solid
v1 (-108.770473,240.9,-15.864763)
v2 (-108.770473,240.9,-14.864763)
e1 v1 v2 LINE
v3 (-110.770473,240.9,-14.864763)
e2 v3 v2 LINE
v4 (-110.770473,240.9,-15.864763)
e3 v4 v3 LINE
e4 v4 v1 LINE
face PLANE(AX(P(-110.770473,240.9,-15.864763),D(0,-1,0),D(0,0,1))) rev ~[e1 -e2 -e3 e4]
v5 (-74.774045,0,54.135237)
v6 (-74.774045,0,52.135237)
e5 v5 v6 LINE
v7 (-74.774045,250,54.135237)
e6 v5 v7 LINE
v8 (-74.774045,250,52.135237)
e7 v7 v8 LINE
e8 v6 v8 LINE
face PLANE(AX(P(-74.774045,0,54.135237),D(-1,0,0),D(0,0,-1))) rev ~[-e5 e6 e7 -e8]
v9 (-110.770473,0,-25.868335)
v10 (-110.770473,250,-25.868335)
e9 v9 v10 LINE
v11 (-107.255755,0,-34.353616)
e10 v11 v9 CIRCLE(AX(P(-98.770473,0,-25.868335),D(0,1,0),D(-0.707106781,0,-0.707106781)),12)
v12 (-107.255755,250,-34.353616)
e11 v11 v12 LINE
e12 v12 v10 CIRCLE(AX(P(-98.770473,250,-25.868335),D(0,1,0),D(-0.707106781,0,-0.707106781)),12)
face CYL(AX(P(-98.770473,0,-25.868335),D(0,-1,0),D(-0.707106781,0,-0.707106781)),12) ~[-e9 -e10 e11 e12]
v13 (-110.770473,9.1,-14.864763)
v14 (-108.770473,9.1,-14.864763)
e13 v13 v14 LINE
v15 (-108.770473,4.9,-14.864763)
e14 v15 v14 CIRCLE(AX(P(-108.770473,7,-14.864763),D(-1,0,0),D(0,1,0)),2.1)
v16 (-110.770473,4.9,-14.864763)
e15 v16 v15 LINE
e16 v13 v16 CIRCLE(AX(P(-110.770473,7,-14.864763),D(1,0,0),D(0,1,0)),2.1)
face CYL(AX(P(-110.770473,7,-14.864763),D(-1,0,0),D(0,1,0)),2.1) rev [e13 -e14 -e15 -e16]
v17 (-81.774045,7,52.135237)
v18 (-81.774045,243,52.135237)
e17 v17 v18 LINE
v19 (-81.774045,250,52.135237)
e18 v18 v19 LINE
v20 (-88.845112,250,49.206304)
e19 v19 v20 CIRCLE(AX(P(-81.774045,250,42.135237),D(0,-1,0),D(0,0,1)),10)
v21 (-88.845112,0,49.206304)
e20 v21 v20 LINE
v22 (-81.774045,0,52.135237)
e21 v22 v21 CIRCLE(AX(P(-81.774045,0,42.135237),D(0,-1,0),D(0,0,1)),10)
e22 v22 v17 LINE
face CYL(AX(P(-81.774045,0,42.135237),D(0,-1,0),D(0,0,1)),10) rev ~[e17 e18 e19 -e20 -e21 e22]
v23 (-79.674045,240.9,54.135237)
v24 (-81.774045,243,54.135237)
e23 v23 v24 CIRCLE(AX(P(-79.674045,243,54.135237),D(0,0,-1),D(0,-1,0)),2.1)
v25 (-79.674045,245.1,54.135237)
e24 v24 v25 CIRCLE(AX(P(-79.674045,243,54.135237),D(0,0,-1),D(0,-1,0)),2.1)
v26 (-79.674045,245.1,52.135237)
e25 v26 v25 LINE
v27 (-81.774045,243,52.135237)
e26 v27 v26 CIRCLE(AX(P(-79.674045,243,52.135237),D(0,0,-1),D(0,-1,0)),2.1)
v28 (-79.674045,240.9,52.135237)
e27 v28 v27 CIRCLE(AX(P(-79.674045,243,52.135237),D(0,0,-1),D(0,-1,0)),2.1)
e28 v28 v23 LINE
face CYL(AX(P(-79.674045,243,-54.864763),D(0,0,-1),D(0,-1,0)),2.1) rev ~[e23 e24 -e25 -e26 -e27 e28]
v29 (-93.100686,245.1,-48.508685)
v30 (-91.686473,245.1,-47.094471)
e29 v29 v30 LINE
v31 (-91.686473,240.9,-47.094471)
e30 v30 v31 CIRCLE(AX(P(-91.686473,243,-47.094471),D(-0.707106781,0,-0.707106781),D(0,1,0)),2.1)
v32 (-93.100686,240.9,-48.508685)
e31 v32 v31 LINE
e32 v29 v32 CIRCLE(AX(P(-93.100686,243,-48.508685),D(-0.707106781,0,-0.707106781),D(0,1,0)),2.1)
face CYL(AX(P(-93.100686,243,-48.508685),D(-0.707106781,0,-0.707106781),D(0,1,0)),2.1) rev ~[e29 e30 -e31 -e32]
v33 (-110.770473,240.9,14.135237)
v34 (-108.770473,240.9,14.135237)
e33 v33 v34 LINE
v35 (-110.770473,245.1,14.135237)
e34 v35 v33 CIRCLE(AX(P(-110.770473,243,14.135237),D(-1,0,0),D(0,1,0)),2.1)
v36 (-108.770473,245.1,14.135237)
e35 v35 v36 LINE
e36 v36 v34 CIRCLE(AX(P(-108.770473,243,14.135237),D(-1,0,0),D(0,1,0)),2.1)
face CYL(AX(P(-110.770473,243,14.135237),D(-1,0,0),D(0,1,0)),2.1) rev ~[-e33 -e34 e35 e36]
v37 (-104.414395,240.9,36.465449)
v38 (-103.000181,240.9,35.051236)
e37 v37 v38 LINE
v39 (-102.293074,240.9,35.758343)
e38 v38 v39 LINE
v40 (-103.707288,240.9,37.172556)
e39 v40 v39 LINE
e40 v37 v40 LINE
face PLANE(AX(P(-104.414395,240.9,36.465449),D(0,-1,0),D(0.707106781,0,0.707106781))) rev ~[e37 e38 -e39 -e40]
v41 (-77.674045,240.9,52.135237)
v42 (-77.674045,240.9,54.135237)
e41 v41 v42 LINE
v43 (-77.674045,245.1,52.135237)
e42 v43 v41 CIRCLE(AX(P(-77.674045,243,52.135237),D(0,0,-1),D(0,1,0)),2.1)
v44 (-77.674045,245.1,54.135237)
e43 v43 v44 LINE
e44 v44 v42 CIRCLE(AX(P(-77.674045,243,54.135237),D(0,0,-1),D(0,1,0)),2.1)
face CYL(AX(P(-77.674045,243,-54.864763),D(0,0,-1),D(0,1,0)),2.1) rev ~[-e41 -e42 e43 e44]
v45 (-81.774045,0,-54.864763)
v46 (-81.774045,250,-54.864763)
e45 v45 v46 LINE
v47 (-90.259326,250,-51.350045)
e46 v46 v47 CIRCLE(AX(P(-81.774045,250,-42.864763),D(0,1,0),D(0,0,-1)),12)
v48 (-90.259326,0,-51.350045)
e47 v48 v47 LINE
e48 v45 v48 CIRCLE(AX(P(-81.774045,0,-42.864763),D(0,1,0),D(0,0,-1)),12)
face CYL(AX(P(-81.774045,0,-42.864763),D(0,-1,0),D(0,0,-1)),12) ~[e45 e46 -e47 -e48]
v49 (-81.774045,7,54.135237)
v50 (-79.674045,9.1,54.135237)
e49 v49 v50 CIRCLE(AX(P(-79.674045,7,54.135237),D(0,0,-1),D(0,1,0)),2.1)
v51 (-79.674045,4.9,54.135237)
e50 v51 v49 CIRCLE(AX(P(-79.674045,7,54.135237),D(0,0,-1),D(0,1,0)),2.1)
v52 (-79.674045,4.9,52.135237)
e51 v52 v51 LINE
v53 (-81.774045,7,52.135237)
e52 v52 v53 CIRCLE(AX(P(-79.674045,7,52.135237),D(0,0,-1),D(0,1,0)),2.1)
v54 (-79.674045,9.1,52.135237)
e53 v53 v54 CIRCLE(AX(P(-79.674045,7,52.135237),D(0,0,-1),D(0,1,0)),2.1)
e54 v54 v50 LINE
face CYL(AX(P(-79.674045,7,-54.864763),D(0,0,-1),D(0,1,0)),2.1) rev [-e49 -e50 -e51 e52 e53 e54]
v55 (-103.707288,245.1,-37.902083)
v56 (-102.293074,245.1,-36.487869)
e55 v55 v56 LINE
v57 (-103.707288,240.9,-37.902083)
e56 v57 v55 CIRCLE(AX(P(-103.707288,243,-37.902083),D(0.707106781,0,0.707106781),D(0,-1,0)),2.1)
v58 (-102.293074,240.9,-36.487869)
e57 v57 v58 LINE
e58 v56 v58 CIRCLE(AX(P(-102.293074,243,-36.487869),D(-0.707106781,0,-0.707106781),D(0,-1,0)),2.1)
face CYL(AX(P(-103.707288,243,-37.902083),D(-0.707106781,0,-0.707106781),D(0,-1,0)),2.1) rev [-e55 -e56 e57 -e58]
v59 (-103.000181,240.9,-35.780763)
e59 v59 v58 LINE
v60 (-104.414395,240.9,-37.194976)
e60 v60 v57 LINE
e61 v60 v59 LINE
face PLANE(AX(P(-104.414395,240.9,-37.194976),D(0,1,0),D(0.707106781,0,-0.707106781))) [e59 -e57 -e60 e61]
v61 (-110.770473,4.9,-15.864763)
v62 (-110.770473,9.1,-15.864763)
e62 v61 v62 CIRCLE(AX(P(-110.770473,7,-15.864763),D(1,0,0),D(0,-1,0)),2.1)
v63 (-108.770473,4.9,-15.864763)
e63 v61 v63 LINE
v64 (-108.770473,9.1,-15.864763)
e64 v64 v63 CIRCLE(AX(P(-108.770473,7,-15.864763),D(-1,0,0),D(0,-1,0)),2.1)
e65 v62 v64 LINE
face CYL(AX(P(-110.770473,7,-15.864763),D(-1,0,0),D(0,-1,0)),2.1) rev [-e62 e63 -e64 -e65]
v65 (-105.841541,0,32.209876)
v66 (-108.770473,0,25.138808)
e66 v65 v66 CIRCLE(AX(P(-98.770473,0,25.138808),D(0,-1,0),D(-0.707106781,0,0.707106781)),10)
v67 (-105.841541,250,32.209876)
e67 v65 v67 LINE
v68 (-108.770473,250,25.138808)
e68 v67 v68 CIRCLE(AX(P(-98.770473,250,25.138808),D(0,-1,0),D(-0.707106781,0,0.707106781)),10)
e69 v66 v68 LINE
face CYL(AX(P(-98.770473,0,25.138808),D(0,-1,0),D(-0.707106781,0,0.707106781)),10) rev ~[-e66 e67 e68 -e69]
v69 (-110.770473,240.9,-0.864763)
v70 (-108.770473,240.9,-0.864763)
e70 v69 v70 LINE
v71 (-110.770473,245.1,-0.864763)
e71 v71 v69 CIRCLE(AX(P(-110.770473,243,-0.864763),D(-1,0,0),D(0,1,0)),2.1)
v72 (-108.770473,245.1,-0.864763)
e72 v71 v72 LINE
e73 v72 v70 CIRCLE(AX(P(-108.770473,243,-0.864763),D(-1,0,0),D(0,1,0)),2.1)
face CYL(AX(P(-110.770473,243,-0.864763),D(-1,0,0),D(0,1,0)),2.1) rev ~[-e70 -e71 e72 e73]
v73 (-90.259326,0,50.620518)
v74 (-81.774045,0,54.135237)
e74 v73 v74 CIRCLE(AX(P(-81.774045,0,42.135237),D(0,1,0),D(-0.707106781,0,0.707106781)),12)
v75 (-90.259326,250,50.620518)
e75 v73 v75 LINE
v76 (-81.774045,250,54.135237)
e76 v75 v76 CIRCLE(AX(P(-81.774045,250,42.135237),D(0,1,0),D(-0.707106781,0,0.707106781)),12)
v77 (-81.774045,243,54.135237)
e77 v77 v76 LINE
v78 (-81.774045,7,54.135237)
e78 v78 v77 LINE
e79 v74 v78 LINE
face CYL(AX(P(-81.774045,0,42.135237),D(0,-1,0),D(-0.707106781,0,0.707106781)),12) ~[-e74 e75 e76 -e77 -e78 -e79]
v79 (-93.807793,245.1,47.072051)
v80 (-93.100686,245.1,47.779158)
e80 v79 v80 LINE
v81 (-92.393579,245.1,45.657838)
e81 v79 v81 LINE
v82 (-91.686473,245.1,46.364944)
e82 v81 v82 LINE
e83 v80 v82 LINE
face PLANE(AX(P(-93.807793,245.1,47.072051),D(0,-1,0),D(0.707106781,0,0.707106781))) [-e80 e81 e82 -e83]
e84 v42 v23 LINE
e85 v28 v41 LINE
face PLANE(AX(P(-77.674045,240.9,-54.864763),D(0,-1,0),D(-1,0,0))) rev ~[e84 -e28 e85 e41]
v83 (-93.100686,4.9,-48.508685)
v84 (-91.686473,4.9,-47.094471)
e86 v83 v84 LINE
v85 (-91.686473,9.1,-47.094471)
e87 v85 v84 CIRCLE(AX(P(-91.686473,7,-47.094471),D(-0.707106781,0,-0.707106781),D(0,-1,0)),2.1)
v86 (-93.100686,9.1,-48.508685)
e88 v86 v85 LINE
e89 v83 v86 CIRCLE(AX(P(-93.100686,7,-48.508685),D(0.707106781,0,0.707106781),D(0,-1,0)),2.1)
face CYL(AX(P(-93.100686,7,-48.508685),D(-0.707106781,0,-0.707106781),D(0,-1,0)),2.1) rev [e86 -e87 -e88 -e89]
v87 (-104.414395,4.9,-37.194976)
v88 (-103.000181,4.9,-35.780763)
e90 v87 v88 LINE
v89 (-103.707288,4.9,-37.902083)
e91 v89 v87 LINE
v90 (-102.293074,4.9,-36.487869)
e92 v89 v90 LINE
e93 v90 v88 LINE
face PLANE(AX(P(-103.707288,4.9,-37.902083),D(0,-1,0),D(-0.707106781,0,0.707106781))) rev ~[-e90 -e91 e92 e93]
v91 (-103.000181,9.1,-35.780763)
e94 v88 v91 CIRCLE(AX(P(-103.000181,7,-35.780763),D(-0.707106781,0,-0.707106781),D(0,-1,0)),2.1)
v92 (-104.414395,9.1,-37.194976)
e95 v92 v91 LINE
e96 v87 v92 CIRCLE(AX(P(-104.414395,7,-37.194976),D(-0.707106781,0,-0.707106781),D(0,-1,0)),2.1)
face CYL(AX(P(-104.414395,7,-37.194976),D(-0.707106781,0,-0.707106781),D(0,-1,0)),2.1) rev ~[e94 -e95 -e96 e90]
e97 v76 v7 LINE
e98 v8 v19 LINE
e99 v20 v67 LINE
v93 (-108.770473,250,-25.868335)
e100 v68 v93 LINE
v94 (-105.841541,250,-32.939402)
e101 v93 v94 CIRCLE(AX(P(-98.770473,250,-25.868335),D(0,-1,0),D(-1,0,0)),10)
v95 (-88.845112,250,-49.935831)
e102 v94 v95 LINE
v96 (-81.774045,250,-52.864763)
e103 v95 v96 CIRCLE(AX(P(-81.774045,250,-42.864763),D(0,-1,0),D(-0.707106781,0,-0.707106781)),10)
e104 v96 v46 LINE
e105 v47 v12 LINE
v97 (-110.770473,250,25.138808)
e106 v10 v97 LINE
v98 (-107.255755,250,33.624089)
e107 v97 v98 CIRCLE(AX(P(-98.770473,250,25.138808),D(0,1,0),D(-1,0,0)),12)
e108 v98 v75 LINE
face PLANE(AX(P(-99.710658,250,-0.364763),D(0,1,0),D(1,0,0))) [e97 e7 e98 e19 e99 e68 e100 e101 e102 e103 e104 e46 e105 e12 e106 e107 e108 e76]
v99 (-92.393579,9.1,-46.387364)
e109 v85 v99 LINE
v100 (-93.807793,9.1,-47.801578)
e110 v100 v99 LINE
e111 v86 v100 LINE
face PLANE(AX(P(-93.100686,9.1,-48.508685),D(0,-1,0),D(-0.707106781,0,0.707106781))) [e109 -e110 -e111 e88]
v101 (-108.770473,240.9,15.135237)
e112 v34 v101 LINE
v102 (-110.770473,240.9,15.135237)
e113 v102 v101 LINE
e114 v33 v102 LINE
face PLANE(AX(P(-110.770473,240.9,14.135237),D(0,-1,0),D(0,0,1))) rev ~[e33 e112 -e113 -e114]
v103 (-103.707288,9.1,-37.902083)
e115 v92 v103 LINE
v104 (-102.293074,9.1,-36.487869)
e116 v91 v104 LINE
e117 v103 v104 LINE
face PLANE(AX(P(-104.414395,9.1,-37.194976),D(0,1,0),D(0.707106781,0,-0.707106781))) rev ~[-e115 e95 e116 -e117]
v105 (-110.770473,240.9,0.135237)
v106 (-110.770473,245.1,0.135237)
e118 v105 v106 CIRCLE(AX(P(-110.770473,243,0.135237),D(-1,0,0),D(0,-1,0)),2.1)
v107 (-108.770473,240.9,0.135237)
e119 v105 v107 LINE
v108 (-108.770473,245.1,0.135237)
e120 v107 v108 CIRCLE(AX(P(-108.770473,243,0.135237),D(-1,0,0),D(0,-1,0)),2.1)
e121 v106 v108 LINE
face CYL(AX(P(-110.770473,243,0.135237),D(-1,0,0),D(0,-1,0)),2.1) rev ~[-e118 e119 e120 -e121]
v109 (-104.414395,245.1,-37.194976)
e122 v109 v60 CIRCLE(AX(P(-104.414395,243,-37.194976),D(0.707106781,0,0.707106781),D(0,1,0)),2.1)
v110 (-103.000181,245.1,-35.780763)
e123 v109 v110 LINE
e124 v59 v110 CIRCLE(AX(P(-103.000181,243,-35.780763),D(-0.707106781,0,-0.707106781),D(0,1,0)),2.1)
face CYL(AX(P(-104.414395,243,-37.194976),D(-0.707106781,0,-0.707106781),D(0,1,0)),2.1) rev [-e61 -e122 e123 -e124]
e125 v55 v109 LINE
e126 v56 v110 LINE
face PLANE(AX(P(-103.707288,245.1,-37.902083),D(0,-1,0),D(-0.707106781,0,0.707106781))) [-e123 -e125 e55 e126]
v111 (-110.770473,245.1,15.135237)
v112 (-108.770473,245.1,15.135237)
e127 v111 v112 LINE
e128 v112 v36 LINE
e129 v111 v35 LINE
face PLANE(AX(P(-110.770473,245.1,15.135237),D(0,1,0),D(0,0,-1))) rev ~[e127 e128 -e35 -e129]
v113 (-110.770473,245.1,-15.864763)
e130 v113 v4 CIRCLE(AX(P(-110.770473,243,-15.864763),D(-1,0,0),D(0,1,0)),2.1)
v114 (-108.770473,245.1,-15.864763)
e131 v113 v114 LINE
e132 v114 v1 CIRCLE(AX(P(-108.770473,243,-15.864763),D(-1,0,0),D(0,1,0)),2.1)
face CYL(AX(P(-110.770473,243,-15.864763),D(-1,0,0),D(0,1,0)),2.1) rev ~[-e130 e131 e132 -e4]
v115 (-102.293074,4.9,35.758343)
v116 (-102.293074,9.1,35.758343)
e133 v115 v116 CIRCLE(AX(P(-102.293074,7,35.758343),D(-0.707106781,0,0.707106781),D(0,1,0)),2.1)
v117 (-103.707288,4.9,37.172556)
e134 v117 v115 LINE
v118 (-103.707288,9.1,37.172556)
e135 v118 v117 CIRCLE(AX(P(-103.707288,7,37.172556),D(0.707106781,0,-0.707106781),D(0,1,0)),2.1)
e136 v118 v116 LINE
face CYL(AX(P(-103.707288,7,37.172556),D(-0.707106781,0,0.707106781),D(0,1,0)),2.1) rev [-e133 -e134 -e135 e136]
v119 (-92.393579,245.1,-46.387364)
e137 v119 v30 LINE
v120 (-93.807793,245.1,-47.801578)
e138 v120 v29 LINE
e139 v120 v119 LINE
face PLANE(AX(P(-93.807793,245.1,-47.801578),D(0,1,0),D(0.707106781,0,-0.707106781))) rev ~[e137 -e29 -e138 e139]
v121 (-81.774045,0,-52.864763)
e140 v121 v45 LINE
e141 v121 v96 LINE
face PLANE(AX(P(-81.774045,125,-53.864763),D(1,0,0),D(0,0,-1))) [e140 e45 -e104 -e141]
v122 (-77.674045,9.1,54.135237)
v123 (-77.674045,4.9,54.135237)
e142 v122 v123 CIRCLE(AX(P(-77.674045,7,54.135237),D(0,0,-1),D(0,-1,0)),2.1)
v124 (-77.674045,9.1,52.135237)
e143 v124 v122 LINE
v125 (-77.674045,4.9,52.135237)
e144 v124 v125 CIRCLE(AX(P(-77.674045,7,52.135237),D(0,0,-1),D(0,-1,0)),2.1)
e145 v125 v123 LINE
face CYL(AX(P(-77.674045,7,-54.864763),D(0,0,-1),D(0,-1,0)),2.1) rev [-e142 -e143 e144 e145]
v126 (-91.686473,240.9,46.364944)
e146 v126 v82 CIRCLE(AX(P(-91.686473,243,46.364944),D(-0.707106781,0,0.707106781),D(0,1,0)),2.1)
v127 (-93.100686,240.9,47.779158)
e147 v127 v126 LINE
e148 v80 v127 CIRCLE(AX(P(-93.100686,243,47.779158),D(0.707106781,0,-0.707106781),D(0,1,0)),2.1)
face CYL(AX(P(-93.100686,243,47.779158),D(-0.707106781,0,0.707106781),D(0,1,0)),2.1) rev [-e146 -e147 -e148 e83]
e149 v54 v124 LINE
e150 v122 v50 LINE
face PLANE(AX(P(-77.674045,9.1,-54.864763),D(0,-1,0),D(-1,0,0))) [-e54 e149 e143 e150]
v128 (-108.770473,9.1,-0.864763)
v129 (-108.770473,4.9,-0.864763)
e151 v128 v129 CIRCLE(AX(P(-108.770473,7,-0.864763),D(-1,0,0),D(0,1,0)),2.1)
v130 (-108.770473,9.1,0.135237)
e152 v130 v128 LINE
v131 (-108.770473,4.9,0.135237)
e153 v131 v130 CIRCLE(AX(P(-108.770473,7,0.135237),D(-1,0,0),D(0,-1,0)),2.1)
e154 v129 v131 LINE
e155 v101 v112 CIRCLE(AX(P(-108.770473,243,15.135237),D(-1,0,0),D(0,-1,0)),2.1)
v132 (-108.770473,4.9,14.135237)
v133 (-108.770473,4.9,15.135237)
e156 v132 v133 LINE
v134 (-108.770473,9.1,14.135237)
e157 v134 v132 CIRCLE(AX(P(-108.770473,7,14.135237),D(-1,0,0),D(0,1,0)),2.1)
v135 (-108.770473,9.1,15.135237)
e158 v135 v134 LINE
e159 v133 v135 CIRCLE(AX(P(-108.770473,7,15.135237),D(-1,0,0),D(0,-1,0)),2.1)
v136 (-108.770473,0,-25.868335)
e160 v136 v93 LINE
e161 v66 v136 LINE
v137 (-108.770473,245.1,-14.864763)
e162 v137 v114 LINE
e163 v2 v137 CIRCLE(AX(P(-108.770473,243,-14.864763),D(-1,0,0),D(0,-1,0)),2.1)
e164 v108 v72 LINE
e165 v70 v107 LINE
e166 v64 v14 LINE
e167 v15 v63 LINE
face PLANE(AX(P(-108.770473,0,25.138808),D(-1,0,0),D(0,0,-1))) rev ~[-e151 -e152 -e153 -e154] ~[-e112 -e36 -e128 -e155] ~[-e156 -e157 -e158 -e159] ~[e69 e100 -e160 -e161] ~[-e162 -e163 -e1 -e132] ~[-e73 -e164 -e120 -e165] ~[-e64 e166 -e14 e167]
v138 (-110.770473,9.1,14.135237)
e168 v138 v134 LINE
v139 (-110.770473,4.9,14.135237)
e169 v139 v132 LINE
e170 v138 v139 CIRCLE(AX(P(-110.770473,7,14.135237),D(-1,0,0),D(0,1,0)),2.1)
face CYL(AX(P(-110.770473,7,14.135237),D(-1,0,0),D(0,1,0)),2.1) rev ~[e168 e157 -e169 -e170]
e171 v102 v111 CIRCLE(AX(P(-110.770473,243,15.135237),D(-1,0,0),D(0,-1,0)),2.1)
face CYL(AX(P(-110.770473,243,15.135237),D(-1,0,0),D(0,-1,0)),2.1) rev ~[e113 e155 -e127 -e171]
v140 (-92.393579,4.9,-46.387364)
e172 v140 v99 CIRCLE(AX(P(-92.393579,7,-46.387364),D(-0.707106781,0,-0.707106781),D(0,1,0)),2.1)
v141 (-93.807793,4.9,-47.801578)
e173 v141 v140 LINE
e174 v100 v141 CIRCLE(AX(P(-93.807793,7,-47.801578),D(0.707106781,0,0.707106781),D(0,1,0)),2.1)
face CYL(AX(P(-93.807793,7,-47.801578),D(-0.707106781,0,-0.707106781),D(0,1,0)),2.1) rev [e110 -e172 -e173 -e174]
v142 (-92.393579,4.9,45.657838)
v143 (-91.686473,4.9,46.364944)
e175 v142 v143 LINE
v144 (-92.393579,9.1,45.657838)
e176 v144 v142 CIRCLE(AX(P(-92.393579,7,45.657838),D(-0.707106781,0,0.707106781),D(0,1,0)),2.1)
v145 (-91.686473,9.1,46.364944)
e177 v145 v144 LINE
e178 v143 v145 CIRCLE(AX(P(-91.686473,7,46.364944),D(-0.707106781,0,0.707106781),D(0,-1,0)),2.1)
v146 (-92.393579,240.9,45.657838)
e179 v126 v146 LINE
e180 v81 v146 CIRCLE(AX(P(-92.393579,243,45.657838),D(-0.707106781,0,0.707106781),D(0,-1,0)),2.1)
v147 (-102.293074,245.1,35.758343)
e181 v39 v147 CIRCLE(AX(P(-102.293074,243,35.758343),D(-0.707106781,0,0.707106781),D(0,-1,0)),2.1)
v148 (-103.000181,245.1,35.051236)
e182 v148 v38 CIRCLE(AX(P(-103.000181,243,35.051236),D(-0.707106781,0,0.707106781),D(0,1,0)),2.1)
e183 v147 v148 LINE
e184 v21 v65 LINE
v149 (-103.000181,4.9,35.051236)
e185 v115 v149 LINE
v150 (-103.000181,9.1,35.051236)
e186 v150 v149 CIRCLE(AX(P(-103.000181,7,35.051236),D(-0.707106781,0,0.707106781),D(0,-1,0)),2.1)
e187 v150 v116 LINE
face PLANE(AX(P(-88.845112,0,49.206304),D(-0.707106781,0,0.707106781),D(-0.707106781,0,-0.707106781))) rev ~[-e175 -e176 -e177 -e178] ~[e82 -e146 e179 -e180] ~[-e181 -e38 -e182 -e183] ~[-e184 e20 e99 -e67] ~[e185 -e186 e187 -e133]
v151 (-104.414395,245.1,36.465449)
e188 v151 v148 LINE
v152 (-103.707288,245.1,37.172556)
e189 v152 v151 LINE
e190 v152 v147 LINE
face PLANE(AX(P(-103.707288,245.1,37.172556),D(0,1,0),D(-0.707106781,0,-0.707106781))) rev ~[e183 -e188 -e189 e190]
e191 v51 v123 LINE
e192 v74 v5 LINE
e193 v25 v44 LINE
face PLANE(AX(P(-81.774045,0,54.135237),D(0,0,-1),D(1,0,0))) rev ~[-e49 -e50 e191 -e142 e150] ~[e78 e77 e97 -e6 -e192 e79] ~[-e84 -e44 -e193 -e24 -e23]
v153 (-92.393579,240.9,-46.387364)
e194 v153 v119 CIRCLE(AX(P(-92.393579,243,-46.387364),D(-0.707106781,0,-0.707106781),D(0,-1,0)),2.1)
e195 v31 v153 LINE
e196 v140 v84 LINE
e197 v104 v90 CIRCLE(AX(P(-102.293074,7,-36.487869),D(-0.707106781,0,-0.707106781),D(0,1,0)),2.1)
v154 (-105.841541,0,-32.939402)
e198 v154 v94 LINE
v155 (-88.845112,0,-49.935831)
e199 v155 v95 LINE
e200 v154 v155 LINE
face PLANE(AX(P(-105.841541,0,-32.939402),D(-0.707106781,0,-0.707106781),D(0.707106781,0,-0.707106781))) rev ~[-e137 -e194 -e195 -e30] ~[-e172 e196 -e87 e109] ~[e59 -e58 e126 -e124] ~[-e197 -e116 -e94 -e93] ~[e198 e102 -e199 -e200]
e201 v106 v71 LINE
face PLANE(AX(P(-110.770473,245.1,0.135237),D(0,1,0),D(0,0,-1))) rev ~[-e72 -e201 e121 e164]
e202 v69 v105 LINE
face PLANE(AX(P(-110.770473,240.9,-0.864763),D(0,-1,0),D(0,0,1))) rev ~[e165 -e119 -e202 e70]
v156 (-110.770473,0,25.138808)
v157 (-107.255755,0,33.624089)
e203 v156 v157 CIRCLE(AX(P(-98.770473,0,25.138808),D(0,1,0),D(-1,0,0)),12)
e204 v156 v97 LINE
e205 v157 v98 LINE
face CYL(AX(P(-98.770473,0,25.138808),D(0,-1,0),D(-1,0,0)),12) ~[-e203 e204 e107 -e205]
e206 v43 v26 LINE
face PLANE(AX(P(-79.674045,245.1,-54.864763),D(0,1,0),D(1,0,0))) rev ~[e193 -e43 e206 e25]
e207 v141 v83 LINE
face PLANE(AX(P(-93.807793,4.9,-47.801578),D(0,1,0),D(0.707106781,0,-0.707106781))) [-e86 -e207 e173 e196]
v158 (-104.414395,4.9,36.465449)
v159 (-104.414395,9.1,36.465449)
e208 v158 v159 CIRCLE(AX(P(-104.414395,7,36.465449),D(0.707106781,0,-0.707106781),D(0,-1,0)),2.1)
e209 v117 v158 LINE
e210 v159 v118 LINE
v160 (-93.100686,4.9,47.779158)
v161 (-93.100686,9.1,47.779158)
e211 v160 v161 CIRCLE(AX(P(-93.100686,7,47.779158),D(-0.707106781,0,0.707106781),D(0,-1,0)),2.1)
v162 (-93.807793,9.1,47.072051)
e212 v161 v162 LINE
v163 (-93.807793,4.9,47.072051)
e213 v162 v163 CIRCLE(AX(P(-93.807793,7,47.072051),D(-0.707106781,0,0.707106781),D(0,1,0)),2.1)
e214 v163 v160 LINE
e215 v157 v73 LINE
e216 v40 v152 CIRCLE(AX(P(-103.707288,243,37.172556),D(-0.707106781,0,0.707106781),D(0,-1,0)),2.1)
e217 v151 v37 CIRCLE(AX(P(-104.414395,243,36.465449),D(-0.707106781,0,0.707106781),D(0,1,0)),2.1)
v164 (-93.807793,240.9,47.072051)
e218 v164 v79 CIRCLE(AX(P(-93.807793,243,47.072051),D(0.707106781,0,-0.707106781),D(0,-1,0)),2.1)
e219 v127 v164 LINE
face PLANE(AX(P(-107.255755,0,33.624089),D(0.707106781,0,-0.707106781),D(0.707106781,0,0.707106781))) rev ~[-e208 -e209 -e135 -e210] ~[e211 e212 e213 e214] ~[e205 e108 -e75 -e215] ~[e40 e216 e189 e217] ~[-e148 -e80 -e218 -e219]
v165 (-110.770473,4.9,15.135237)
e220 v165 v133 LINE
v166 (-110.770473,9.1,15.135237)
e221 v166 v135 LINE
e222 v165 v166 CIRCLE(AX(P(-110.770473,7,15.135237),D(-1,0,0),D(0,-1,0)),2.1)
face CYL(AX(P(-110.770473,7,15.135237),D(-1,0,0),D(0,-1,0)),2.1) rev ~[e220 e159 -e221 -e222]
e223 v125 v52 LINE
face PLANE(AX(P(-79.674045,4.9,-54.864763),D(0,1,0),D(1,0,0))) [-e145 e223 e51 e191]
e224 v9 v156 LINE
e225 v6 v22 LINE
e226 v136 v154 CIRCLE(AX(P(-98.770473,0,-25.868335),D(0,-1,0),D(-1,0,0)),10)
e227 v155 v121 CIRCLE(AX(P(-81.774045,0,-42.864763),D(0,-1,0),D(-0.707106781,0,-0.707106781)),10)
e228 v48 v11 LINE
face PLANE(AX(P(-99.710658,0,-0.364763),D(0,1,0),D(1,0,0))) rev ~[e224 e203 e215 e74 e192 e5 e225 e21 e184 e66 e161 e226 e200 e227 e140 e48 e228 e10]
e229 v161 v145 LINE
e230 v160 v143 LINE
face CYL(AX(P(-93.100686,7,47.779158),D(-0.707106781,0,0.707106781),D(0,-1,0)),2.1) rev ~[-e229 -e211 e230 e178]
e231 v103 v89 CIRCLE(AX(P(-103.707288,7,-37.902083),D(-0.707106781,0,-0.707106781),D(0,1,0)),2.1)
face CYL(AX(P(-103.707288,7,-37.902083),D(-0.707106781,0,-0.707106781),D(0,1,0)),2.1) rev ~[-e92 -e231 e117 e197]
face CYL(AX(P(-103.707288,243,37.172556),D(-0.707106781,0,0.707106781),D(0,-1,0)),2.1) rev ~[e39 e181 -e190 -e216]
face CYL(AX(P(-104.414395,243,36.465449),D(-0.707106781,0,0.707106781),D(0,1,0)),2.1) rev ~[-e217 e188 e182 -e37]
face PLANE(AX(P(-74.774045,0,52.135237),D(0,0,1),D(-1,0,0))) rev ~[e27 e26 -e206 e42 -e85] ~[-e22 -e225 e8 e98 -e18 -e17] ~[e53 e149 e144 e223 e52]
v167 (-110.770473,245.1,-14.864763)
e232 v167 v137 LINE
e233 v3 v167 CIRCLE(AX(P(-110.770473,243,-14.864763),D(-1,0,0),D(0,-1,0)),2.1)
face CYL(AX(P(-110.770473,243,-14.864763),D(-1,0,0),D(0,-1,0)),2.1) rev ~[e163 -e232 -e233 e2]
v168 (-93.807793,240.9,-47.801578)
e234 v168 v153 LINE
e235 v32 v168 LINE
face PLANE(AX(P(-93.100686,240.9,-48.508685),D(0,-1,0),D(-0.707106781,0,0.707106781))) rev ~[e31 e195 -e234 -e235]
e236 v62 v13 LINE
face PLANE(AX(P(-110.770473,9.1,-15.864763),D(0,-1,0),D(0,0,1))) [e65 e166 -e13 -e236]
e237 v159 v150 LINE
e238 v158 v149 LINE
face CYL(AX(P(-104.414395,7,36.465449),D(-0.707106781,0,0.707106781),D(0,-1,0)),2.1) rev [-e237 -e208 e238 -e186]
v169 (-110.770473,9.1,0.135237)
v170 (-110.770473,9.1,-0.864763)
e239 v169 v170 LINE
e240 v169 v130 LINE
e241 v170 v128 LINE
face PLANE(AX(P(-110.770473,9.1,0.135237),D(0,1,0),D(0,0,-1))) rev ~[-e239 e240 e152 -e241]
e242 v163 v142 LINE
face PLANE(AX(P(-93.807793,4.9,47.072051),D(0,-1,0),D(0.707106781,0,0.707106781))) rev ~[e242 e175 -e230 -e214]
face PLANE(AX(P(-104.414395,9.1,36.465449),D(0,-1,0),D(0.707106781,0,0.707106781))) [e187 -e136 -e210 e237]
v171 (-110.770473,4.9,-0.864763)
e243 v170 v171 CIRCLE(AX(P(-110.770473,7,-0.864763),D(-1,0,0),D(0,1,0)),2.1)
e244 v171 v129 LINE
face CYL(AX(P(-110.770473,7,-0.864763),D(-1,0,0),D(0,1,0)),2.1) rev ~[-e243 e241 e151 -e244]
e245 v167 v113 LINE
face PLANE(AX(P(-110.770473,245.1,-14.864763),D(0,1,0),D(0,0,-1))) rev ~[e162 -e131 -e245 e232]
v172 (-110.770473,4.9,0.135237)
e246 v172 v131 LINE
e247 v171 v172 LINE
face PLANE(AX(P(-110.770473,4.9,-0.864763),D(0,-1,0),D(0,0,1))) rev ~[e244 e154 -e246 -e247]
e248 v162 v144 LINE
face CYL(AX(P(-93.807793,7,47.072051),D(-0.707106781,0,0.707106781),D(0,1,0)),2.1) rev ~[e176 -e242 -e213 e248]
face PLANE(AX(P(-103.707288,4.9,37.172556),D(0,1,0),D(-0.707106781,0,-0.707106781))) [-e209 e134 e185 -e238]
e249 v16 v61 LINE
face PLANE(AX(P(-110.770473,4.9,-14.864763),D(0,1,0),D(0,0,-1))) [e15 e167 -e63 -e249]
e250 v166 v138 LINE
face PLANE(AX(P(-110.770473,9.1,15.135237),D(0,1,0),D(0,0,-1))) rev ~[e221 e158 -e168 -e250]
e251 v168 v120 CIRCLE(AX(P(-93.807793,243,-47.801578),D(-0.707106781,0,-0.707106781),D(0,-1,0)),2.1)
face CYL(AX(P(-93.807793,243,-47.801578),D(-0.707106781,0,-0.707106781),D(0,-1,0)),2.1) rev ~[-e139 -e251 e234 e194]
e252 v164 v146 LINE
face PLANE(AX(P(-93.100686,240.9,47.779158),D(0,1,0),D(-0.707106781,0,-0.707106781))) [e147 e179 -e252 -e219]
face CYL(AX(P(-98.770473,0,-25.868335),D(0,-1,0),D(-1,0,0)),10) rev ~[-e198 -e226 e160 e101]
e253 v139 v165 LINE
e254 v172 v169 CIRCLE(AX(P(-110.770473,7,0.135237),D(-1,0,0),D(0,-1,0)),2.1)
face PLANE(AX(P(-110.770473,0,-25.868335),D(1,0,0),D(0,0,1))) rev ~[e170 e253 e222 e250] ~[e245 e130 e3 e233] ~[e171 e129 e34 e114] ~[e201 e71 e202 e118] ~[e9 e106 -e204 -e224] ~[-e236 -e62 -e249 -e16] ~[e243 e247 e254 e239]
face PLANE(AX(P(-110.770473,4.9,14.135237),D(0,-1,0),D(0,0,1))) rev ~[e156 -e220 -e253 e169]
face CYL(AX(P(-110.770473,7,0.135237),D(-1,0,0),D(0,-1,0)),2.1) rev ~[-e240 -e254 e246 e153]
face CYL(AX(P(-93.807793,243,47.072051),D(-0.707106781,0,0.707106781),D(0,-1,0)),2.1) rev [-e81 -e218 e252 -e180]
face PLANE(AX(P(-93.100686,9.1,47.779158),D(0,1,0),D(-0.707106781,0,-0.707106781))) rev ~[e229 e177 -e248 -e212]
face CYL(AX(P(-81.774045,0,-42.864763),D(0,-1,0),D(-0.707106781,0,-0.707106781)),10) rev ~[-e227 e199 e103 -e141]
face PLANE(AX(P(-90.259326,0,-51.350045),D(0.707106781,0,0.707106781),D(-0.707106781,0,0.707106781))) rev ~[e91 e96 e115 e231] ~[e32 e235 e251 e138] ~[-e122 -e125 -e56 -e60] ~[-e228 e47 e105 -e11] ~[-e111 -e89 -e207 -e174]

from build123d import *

# Parameters (mm, degrees)
EXTRUDE_1_DEPTH      = 250
CUT_EXTRUDE_2_DEPTH  = 250
CUT_EXTRUDE_4_DEPTH  = 250
CUT_EXTRUDE_5_DEPTH  = 250
CUT_EXTRUDE_6_DEPTH  = 250
SKETCH_12_W          = 2
SKETCH_12_H          = 250
CUT_EXTRUDE_11_DEPTH = 7


with BuildPart() as part:
    # 草图2 → 凸台-拉伸1 (new body)
    with BuildSketch(Plane(origin=(0, 0, 0), x_dir=(1, 0, 0), z_dir=(0, 1, 0))):
        with BuildLine():
            Line((-74.774044662, 52.864763338), (-74.774044662, 54.864763338))
            Line((-74.774044662, 54.864763338), (-81.774044662, 54.864763338))
            ThreePointArc((-81.774044662, 54.864763338), (-86.36624585, 53.951317728), (-90.259326036, 51.350044712))
            Line((-90.259326036, 51.350044712), (-107.255754699, 34.35361605))
            ThreePointArc((-107.255754699, 34.35361605), (-109.857027714, 30.460535864), (-110.770473324, 25.868334675))
            Line((-110.770473324, 25.868334675), (-110.770473324, -25.138808))
            ThreePointArc((-110.770473324, -25.138808), (-109.857027714, -29.731009188), (-107.255754699, -33.624089374))
            Line((-107.255754699, -33.624089374), (-90.259326036, -50.620518036))
            ThreePointArc((-90.259326036, -50.620518036), (-86.36624585, -53.221791052), (-81.774044662, -54.135236662))
            Line((-81.774044662, -54.135236662), (-74.774044662, -54.135236662))
            Line((-74.774044662, -54.135236662), (-74.774044662, -52.135236662))
            Line((-74.774044662, -52.135236662), (-81.774044662, -52.135236662))
            ThreePointArc((-81.774044662, -52.135236662), (-85.600878985, -51.374031987), (-88.845112474, -49.206304474))
            Line((-88.845112474, -49.206304474), (-105.841541136, -32.209875812))
            ThreePointArc((-105.841541136, -32.209875812), (-108.009268649, -28.965642323), (-108.770473324, -25.138808))
            Line((-108.770473324, -25.138808), (-108.770473324, 25.868334675))
            ThreePointArc((-108.770473324, 25.868334675), (-108.009268649, 29.695168999), (-105.841541136, 32.939402487))
            Line((-105.841541136, 32.939402487), (-88.845112474, 49.93583115))
            ThreePointArc((-88.845112474, 49.93583115), (-85.600878985, 52.103558663), (-81.774044662, 52.864763338))
            Line((-81.774044662, 52.864763338), (-74.774044662, 52.864763338))
        make_face()
    extrude(amount=EXTRUDE_1_DEPTH)

    # 草图3 → 切除-拉伸2 (cut)
    with BuildSketch(Plane(origin=(0, 0, -54.864763338), x_dir=(-1, 0, 0), z_dir=(0, 0, -1))):
        with BuildLine():
            ThreePointArc((79.674044662, 240.9), (81.774044662, 243), (79.674044662, 245.1))
            Line((79.674044662, 245.1), (77.674044662, 245.1))
            ThreePointArc((77.674044662, 245.1), (75.574044662, 243), (77.674044662, 240.9))
            Line((77.674044662, 240.9), (79.674044662, 240.9))
        make_face()
        with BuildLine():
            ThreePointArc((79.674044662, 9.1), (81.774044662, 7), (79.674044662, 4.9))
            Line((79.674044662, 4.9), (77.674044662, 4.9))
            ThreePointArc((77.674044662, 4.9), (75.574044662, 7), (77.674044662, 9.1))
            Line((77.674044662, 9.1), (79.674044662, 9.1))
        make_face()
    extrude(amount=-CUT_EXTRUDE_2_DEPTH, mode=Mode.SUBTRACT)

    # 草图4 → 切除-拉伸4 (cut)
    with BuildSketch(Plane(origin=(-70.804685374, 0, -70.804685374), x_dir=(-0.7071067811865558, 0, 0.7071067811865392), z_dir=(-0.7071067811865392, 0, -0.7071067811865558))):
        with BuildLine():
            Line((31.531306639, 9.1), (32.531306639, 9.1))
            ThreePointArc((32.531306639, 9.1), (34.631306639, 7), (32.531306639, 4.9))
            Line((32.531306639, 4.9), (31.531306639, 4.9))
            ThreePointArc((31.531306639, 4.9), (29.431306639, 7), (31.531306639, 9.1))
        make_face()
        with BuildLine():
            Line((47.531306639, 9.1), (46.531306639, 9.1))
            ThreePointArc((46.531306639, 9.1), (44.431306639, 7), (46.531306639, 4.9))
            Line((46.531306639, 4.9), (47.531306639, 4.9))
            ThreePointArc((47.531306639, 4.9), (49.631306639, 7), (47.531306639, 9.1))
        make_face()
        with BuildLine():
            Line((47.531306639, 240.9), (46.531306639, 240.9))
            ThreePointArc((46.531306639, 240.9), (44.431306639, 243), (46.531306639, 245.1))
            Line((46.531306639, 245.1), (47.531306639, 245.1))
            ThreePointArc((47.531306639, 245.1), (49.631306639, 243), (47.531306639, 240.9))
        make_face()
        with BuildLine():
            Line((31.531306639, 240.9), (32.531306639, 240.9))
            ThreePointArc((32.531306639, 240.9), (34.631306639, 243), (32.531306639, 245.1))
            Line((32.531306639, 245.1), (31.531306639, 245.1))
            ThreePointArc((31.531306639, 245.1), (29.431306639, 243), (31.531306639, 240.9))
        make_face()
    extrude(amount=-CUT_EXTRUDE_4_DEPTH, mode=Mode.SUBTRACT)

    # 草图5 → 切除-拉伸5 (cut)
    with BuildSketch(Plane(origin=(-70.439922036, 0, 70.439922036), x_dir=(0.7071067811865507, 0, 0.7071067811865445), z_dir=(-0.7071067811865445, 0, 0.7071067811865507))):
        with BuildLine():
            Line((-48.047159898, 9.1), (-47.047159898, 9.1))
            ThreePointArc((-47.047159898, 9.1), (-44.947159898, 7), (-47.047159898, 4.9))
            Line((-47.047159898, 4.9), (-48.047159898, 4.9))
            ThreePointArc((-48.047159898, 4.9), (-50.147159898, 7), (-48.047159898, 9.1))
        make_face()
        with BuildLine():
            Line((-32.047159898, 9.1), (-33.047159898, 9.1))
            ThreePointArc((-33.047159898, 9.1), (-35.147159898, 7), (-33.047159898, 4.9))
            Line((-33.047159898, 4.9), (-32.047159898, 4.9))
            ThreePointArc((-32.047159898, 4.9), (-29.947159898, 7), (-32.047159898, 9.1))
        make_face()
        with BuildLine():
            Line((-32.047159898, 240.9), (-33.047159898, 240.9))
            ThreePointArc((-33.047159898, 240.9), (-35.147159898, 243), (-33.047159898, 245.1))
            Line((-33.047159898, 245.1), (-32.047159898, 245.1))
            ThreePointArc((-32.047159898, 245.1), (-29.947159898, 243), (-32.047159898, 240.9))
        make_face()
        with BuildLine():
            Line((-48.047159898, 240.9), (-47.047159898, 240.9))
            ThreePointArc((-47.047159898, 240.9), (-44.947159898, 243), (-47.047159898, 245.1))
            Line((-47.047159898, 245.1), (-48.047159898, 245.1))
            ThreePointArc((-48.047159898, 245.1), (-50.147159898, 243), (-48.047159898, 240.9))
        make_face()
    extrude(amount=-CUT_EXTRUDE_5_DEPTH, mode=Mode.SUBTRACT)

    # 草图6 → 切除-拉伸6 (cut)
    with BuildSketch(Plane.ZY.offset(110.770473324)):
        with BuildLine():
            Line((-15.864763338, 9.1), (-14.864763338, 9.1))
            ThreePointArc((-14.864763338, 9.1), (-12.764763338, 7), (-14.864763338, 4.9))
            Line((-14.864763338, 4.9), (-15.864763338, 4.9))
            ThreePointArc((-15.864763338, 4.9), (-17.964763338, 7), (-15.864763338, 9.1))
        make_face()
        with BuildLine():
            Line((-0.864763338, 4.9), (0.135236662, 4.9))
            ThreePointArc((0.135236662, 4.9), (2.235236662, 7), (0.135236662, 9.1))
            Line((0.135236662, 9.1), (-0.864763338, 9.1))
            ThreePointArc((-0.864763338, 9.1), (-2.964763338, 7), (-0.864763338, 4.9))
        make_face()
        with BuildLine():
            Line((14.135236662, 4.9), (15.135236662, 4.9))
            ThreePointArc((15.135236662, 4.9), (17.235236662, 7), (15.135236662, 9.1))
            Line((15.135236662, 9.1), (14.135236662, 9.1))
            ThreePointArc((14.135236662, 9.1), (12.035236662, 7), (14.135236662, 4.9))
        make_face()
        with BuildLine():
            Line((14.135236662, 240.9), (15.135236662, 240.9))
            ThreePointArc((15.135236662, 240.9), (17.235236662, 243), (15.135236662, 245.1))
            Line((15.135236662, 245.1), (14.135236662, 245.1))
            ThreePointArc((14.135236662, 245.1), (12.035236662, 243), (14.135236662, 240.9))
        make_face()
        with BuildLine():
            Line((-0.864763338, 240.9), (0.135236662, 240.9))
            ThreePointArc((0.135236662, 240.9), (2.235236662, 243), (0.135236662, 245.1))
            Line((0.135236662, 245.1), (-0.864763338, 245.1))
            ThreePointArc((-0.864763338, 245.1), (-2.964763338, 243), (-0.864763338, 240.9))
        make_face()
        with BuildLine():
            Line((-15.864763338, 240.9), (-14.864763338, 240.9))
            ThreePointArc((-14.864763338, 240.9), (-12.764763338, 243), (-14.864763338, 245.1))
            Line((-14.864763338, 245.1), (-15.864763338, 245.1))
            ThreePointArc((-15.864763338, 245.1), (-17.964763338, 243), (-15.864763338, 240.9))
        make_face()
    extrude(amount=-CUT_EXTRUDE_6_DEPTH, mode=Mode.SUBTRACT)

    # 草图12 → 切除-拉伸11 (cut)
    with BuildSketch(Plane(origin=(-74.774044662, 0, 0), x_dir=(0, 0, -1), z_dir=(1, 0, 0))):
        with Locations((53.864763338, 125)):
            Rectangle(SKETCH_12_W, SKETCH_12_H)
    extrude(amount=-CUT_EXTRUDE_11_DEPTH, mode=Mode.SUBTRACT)


solid = part.part
